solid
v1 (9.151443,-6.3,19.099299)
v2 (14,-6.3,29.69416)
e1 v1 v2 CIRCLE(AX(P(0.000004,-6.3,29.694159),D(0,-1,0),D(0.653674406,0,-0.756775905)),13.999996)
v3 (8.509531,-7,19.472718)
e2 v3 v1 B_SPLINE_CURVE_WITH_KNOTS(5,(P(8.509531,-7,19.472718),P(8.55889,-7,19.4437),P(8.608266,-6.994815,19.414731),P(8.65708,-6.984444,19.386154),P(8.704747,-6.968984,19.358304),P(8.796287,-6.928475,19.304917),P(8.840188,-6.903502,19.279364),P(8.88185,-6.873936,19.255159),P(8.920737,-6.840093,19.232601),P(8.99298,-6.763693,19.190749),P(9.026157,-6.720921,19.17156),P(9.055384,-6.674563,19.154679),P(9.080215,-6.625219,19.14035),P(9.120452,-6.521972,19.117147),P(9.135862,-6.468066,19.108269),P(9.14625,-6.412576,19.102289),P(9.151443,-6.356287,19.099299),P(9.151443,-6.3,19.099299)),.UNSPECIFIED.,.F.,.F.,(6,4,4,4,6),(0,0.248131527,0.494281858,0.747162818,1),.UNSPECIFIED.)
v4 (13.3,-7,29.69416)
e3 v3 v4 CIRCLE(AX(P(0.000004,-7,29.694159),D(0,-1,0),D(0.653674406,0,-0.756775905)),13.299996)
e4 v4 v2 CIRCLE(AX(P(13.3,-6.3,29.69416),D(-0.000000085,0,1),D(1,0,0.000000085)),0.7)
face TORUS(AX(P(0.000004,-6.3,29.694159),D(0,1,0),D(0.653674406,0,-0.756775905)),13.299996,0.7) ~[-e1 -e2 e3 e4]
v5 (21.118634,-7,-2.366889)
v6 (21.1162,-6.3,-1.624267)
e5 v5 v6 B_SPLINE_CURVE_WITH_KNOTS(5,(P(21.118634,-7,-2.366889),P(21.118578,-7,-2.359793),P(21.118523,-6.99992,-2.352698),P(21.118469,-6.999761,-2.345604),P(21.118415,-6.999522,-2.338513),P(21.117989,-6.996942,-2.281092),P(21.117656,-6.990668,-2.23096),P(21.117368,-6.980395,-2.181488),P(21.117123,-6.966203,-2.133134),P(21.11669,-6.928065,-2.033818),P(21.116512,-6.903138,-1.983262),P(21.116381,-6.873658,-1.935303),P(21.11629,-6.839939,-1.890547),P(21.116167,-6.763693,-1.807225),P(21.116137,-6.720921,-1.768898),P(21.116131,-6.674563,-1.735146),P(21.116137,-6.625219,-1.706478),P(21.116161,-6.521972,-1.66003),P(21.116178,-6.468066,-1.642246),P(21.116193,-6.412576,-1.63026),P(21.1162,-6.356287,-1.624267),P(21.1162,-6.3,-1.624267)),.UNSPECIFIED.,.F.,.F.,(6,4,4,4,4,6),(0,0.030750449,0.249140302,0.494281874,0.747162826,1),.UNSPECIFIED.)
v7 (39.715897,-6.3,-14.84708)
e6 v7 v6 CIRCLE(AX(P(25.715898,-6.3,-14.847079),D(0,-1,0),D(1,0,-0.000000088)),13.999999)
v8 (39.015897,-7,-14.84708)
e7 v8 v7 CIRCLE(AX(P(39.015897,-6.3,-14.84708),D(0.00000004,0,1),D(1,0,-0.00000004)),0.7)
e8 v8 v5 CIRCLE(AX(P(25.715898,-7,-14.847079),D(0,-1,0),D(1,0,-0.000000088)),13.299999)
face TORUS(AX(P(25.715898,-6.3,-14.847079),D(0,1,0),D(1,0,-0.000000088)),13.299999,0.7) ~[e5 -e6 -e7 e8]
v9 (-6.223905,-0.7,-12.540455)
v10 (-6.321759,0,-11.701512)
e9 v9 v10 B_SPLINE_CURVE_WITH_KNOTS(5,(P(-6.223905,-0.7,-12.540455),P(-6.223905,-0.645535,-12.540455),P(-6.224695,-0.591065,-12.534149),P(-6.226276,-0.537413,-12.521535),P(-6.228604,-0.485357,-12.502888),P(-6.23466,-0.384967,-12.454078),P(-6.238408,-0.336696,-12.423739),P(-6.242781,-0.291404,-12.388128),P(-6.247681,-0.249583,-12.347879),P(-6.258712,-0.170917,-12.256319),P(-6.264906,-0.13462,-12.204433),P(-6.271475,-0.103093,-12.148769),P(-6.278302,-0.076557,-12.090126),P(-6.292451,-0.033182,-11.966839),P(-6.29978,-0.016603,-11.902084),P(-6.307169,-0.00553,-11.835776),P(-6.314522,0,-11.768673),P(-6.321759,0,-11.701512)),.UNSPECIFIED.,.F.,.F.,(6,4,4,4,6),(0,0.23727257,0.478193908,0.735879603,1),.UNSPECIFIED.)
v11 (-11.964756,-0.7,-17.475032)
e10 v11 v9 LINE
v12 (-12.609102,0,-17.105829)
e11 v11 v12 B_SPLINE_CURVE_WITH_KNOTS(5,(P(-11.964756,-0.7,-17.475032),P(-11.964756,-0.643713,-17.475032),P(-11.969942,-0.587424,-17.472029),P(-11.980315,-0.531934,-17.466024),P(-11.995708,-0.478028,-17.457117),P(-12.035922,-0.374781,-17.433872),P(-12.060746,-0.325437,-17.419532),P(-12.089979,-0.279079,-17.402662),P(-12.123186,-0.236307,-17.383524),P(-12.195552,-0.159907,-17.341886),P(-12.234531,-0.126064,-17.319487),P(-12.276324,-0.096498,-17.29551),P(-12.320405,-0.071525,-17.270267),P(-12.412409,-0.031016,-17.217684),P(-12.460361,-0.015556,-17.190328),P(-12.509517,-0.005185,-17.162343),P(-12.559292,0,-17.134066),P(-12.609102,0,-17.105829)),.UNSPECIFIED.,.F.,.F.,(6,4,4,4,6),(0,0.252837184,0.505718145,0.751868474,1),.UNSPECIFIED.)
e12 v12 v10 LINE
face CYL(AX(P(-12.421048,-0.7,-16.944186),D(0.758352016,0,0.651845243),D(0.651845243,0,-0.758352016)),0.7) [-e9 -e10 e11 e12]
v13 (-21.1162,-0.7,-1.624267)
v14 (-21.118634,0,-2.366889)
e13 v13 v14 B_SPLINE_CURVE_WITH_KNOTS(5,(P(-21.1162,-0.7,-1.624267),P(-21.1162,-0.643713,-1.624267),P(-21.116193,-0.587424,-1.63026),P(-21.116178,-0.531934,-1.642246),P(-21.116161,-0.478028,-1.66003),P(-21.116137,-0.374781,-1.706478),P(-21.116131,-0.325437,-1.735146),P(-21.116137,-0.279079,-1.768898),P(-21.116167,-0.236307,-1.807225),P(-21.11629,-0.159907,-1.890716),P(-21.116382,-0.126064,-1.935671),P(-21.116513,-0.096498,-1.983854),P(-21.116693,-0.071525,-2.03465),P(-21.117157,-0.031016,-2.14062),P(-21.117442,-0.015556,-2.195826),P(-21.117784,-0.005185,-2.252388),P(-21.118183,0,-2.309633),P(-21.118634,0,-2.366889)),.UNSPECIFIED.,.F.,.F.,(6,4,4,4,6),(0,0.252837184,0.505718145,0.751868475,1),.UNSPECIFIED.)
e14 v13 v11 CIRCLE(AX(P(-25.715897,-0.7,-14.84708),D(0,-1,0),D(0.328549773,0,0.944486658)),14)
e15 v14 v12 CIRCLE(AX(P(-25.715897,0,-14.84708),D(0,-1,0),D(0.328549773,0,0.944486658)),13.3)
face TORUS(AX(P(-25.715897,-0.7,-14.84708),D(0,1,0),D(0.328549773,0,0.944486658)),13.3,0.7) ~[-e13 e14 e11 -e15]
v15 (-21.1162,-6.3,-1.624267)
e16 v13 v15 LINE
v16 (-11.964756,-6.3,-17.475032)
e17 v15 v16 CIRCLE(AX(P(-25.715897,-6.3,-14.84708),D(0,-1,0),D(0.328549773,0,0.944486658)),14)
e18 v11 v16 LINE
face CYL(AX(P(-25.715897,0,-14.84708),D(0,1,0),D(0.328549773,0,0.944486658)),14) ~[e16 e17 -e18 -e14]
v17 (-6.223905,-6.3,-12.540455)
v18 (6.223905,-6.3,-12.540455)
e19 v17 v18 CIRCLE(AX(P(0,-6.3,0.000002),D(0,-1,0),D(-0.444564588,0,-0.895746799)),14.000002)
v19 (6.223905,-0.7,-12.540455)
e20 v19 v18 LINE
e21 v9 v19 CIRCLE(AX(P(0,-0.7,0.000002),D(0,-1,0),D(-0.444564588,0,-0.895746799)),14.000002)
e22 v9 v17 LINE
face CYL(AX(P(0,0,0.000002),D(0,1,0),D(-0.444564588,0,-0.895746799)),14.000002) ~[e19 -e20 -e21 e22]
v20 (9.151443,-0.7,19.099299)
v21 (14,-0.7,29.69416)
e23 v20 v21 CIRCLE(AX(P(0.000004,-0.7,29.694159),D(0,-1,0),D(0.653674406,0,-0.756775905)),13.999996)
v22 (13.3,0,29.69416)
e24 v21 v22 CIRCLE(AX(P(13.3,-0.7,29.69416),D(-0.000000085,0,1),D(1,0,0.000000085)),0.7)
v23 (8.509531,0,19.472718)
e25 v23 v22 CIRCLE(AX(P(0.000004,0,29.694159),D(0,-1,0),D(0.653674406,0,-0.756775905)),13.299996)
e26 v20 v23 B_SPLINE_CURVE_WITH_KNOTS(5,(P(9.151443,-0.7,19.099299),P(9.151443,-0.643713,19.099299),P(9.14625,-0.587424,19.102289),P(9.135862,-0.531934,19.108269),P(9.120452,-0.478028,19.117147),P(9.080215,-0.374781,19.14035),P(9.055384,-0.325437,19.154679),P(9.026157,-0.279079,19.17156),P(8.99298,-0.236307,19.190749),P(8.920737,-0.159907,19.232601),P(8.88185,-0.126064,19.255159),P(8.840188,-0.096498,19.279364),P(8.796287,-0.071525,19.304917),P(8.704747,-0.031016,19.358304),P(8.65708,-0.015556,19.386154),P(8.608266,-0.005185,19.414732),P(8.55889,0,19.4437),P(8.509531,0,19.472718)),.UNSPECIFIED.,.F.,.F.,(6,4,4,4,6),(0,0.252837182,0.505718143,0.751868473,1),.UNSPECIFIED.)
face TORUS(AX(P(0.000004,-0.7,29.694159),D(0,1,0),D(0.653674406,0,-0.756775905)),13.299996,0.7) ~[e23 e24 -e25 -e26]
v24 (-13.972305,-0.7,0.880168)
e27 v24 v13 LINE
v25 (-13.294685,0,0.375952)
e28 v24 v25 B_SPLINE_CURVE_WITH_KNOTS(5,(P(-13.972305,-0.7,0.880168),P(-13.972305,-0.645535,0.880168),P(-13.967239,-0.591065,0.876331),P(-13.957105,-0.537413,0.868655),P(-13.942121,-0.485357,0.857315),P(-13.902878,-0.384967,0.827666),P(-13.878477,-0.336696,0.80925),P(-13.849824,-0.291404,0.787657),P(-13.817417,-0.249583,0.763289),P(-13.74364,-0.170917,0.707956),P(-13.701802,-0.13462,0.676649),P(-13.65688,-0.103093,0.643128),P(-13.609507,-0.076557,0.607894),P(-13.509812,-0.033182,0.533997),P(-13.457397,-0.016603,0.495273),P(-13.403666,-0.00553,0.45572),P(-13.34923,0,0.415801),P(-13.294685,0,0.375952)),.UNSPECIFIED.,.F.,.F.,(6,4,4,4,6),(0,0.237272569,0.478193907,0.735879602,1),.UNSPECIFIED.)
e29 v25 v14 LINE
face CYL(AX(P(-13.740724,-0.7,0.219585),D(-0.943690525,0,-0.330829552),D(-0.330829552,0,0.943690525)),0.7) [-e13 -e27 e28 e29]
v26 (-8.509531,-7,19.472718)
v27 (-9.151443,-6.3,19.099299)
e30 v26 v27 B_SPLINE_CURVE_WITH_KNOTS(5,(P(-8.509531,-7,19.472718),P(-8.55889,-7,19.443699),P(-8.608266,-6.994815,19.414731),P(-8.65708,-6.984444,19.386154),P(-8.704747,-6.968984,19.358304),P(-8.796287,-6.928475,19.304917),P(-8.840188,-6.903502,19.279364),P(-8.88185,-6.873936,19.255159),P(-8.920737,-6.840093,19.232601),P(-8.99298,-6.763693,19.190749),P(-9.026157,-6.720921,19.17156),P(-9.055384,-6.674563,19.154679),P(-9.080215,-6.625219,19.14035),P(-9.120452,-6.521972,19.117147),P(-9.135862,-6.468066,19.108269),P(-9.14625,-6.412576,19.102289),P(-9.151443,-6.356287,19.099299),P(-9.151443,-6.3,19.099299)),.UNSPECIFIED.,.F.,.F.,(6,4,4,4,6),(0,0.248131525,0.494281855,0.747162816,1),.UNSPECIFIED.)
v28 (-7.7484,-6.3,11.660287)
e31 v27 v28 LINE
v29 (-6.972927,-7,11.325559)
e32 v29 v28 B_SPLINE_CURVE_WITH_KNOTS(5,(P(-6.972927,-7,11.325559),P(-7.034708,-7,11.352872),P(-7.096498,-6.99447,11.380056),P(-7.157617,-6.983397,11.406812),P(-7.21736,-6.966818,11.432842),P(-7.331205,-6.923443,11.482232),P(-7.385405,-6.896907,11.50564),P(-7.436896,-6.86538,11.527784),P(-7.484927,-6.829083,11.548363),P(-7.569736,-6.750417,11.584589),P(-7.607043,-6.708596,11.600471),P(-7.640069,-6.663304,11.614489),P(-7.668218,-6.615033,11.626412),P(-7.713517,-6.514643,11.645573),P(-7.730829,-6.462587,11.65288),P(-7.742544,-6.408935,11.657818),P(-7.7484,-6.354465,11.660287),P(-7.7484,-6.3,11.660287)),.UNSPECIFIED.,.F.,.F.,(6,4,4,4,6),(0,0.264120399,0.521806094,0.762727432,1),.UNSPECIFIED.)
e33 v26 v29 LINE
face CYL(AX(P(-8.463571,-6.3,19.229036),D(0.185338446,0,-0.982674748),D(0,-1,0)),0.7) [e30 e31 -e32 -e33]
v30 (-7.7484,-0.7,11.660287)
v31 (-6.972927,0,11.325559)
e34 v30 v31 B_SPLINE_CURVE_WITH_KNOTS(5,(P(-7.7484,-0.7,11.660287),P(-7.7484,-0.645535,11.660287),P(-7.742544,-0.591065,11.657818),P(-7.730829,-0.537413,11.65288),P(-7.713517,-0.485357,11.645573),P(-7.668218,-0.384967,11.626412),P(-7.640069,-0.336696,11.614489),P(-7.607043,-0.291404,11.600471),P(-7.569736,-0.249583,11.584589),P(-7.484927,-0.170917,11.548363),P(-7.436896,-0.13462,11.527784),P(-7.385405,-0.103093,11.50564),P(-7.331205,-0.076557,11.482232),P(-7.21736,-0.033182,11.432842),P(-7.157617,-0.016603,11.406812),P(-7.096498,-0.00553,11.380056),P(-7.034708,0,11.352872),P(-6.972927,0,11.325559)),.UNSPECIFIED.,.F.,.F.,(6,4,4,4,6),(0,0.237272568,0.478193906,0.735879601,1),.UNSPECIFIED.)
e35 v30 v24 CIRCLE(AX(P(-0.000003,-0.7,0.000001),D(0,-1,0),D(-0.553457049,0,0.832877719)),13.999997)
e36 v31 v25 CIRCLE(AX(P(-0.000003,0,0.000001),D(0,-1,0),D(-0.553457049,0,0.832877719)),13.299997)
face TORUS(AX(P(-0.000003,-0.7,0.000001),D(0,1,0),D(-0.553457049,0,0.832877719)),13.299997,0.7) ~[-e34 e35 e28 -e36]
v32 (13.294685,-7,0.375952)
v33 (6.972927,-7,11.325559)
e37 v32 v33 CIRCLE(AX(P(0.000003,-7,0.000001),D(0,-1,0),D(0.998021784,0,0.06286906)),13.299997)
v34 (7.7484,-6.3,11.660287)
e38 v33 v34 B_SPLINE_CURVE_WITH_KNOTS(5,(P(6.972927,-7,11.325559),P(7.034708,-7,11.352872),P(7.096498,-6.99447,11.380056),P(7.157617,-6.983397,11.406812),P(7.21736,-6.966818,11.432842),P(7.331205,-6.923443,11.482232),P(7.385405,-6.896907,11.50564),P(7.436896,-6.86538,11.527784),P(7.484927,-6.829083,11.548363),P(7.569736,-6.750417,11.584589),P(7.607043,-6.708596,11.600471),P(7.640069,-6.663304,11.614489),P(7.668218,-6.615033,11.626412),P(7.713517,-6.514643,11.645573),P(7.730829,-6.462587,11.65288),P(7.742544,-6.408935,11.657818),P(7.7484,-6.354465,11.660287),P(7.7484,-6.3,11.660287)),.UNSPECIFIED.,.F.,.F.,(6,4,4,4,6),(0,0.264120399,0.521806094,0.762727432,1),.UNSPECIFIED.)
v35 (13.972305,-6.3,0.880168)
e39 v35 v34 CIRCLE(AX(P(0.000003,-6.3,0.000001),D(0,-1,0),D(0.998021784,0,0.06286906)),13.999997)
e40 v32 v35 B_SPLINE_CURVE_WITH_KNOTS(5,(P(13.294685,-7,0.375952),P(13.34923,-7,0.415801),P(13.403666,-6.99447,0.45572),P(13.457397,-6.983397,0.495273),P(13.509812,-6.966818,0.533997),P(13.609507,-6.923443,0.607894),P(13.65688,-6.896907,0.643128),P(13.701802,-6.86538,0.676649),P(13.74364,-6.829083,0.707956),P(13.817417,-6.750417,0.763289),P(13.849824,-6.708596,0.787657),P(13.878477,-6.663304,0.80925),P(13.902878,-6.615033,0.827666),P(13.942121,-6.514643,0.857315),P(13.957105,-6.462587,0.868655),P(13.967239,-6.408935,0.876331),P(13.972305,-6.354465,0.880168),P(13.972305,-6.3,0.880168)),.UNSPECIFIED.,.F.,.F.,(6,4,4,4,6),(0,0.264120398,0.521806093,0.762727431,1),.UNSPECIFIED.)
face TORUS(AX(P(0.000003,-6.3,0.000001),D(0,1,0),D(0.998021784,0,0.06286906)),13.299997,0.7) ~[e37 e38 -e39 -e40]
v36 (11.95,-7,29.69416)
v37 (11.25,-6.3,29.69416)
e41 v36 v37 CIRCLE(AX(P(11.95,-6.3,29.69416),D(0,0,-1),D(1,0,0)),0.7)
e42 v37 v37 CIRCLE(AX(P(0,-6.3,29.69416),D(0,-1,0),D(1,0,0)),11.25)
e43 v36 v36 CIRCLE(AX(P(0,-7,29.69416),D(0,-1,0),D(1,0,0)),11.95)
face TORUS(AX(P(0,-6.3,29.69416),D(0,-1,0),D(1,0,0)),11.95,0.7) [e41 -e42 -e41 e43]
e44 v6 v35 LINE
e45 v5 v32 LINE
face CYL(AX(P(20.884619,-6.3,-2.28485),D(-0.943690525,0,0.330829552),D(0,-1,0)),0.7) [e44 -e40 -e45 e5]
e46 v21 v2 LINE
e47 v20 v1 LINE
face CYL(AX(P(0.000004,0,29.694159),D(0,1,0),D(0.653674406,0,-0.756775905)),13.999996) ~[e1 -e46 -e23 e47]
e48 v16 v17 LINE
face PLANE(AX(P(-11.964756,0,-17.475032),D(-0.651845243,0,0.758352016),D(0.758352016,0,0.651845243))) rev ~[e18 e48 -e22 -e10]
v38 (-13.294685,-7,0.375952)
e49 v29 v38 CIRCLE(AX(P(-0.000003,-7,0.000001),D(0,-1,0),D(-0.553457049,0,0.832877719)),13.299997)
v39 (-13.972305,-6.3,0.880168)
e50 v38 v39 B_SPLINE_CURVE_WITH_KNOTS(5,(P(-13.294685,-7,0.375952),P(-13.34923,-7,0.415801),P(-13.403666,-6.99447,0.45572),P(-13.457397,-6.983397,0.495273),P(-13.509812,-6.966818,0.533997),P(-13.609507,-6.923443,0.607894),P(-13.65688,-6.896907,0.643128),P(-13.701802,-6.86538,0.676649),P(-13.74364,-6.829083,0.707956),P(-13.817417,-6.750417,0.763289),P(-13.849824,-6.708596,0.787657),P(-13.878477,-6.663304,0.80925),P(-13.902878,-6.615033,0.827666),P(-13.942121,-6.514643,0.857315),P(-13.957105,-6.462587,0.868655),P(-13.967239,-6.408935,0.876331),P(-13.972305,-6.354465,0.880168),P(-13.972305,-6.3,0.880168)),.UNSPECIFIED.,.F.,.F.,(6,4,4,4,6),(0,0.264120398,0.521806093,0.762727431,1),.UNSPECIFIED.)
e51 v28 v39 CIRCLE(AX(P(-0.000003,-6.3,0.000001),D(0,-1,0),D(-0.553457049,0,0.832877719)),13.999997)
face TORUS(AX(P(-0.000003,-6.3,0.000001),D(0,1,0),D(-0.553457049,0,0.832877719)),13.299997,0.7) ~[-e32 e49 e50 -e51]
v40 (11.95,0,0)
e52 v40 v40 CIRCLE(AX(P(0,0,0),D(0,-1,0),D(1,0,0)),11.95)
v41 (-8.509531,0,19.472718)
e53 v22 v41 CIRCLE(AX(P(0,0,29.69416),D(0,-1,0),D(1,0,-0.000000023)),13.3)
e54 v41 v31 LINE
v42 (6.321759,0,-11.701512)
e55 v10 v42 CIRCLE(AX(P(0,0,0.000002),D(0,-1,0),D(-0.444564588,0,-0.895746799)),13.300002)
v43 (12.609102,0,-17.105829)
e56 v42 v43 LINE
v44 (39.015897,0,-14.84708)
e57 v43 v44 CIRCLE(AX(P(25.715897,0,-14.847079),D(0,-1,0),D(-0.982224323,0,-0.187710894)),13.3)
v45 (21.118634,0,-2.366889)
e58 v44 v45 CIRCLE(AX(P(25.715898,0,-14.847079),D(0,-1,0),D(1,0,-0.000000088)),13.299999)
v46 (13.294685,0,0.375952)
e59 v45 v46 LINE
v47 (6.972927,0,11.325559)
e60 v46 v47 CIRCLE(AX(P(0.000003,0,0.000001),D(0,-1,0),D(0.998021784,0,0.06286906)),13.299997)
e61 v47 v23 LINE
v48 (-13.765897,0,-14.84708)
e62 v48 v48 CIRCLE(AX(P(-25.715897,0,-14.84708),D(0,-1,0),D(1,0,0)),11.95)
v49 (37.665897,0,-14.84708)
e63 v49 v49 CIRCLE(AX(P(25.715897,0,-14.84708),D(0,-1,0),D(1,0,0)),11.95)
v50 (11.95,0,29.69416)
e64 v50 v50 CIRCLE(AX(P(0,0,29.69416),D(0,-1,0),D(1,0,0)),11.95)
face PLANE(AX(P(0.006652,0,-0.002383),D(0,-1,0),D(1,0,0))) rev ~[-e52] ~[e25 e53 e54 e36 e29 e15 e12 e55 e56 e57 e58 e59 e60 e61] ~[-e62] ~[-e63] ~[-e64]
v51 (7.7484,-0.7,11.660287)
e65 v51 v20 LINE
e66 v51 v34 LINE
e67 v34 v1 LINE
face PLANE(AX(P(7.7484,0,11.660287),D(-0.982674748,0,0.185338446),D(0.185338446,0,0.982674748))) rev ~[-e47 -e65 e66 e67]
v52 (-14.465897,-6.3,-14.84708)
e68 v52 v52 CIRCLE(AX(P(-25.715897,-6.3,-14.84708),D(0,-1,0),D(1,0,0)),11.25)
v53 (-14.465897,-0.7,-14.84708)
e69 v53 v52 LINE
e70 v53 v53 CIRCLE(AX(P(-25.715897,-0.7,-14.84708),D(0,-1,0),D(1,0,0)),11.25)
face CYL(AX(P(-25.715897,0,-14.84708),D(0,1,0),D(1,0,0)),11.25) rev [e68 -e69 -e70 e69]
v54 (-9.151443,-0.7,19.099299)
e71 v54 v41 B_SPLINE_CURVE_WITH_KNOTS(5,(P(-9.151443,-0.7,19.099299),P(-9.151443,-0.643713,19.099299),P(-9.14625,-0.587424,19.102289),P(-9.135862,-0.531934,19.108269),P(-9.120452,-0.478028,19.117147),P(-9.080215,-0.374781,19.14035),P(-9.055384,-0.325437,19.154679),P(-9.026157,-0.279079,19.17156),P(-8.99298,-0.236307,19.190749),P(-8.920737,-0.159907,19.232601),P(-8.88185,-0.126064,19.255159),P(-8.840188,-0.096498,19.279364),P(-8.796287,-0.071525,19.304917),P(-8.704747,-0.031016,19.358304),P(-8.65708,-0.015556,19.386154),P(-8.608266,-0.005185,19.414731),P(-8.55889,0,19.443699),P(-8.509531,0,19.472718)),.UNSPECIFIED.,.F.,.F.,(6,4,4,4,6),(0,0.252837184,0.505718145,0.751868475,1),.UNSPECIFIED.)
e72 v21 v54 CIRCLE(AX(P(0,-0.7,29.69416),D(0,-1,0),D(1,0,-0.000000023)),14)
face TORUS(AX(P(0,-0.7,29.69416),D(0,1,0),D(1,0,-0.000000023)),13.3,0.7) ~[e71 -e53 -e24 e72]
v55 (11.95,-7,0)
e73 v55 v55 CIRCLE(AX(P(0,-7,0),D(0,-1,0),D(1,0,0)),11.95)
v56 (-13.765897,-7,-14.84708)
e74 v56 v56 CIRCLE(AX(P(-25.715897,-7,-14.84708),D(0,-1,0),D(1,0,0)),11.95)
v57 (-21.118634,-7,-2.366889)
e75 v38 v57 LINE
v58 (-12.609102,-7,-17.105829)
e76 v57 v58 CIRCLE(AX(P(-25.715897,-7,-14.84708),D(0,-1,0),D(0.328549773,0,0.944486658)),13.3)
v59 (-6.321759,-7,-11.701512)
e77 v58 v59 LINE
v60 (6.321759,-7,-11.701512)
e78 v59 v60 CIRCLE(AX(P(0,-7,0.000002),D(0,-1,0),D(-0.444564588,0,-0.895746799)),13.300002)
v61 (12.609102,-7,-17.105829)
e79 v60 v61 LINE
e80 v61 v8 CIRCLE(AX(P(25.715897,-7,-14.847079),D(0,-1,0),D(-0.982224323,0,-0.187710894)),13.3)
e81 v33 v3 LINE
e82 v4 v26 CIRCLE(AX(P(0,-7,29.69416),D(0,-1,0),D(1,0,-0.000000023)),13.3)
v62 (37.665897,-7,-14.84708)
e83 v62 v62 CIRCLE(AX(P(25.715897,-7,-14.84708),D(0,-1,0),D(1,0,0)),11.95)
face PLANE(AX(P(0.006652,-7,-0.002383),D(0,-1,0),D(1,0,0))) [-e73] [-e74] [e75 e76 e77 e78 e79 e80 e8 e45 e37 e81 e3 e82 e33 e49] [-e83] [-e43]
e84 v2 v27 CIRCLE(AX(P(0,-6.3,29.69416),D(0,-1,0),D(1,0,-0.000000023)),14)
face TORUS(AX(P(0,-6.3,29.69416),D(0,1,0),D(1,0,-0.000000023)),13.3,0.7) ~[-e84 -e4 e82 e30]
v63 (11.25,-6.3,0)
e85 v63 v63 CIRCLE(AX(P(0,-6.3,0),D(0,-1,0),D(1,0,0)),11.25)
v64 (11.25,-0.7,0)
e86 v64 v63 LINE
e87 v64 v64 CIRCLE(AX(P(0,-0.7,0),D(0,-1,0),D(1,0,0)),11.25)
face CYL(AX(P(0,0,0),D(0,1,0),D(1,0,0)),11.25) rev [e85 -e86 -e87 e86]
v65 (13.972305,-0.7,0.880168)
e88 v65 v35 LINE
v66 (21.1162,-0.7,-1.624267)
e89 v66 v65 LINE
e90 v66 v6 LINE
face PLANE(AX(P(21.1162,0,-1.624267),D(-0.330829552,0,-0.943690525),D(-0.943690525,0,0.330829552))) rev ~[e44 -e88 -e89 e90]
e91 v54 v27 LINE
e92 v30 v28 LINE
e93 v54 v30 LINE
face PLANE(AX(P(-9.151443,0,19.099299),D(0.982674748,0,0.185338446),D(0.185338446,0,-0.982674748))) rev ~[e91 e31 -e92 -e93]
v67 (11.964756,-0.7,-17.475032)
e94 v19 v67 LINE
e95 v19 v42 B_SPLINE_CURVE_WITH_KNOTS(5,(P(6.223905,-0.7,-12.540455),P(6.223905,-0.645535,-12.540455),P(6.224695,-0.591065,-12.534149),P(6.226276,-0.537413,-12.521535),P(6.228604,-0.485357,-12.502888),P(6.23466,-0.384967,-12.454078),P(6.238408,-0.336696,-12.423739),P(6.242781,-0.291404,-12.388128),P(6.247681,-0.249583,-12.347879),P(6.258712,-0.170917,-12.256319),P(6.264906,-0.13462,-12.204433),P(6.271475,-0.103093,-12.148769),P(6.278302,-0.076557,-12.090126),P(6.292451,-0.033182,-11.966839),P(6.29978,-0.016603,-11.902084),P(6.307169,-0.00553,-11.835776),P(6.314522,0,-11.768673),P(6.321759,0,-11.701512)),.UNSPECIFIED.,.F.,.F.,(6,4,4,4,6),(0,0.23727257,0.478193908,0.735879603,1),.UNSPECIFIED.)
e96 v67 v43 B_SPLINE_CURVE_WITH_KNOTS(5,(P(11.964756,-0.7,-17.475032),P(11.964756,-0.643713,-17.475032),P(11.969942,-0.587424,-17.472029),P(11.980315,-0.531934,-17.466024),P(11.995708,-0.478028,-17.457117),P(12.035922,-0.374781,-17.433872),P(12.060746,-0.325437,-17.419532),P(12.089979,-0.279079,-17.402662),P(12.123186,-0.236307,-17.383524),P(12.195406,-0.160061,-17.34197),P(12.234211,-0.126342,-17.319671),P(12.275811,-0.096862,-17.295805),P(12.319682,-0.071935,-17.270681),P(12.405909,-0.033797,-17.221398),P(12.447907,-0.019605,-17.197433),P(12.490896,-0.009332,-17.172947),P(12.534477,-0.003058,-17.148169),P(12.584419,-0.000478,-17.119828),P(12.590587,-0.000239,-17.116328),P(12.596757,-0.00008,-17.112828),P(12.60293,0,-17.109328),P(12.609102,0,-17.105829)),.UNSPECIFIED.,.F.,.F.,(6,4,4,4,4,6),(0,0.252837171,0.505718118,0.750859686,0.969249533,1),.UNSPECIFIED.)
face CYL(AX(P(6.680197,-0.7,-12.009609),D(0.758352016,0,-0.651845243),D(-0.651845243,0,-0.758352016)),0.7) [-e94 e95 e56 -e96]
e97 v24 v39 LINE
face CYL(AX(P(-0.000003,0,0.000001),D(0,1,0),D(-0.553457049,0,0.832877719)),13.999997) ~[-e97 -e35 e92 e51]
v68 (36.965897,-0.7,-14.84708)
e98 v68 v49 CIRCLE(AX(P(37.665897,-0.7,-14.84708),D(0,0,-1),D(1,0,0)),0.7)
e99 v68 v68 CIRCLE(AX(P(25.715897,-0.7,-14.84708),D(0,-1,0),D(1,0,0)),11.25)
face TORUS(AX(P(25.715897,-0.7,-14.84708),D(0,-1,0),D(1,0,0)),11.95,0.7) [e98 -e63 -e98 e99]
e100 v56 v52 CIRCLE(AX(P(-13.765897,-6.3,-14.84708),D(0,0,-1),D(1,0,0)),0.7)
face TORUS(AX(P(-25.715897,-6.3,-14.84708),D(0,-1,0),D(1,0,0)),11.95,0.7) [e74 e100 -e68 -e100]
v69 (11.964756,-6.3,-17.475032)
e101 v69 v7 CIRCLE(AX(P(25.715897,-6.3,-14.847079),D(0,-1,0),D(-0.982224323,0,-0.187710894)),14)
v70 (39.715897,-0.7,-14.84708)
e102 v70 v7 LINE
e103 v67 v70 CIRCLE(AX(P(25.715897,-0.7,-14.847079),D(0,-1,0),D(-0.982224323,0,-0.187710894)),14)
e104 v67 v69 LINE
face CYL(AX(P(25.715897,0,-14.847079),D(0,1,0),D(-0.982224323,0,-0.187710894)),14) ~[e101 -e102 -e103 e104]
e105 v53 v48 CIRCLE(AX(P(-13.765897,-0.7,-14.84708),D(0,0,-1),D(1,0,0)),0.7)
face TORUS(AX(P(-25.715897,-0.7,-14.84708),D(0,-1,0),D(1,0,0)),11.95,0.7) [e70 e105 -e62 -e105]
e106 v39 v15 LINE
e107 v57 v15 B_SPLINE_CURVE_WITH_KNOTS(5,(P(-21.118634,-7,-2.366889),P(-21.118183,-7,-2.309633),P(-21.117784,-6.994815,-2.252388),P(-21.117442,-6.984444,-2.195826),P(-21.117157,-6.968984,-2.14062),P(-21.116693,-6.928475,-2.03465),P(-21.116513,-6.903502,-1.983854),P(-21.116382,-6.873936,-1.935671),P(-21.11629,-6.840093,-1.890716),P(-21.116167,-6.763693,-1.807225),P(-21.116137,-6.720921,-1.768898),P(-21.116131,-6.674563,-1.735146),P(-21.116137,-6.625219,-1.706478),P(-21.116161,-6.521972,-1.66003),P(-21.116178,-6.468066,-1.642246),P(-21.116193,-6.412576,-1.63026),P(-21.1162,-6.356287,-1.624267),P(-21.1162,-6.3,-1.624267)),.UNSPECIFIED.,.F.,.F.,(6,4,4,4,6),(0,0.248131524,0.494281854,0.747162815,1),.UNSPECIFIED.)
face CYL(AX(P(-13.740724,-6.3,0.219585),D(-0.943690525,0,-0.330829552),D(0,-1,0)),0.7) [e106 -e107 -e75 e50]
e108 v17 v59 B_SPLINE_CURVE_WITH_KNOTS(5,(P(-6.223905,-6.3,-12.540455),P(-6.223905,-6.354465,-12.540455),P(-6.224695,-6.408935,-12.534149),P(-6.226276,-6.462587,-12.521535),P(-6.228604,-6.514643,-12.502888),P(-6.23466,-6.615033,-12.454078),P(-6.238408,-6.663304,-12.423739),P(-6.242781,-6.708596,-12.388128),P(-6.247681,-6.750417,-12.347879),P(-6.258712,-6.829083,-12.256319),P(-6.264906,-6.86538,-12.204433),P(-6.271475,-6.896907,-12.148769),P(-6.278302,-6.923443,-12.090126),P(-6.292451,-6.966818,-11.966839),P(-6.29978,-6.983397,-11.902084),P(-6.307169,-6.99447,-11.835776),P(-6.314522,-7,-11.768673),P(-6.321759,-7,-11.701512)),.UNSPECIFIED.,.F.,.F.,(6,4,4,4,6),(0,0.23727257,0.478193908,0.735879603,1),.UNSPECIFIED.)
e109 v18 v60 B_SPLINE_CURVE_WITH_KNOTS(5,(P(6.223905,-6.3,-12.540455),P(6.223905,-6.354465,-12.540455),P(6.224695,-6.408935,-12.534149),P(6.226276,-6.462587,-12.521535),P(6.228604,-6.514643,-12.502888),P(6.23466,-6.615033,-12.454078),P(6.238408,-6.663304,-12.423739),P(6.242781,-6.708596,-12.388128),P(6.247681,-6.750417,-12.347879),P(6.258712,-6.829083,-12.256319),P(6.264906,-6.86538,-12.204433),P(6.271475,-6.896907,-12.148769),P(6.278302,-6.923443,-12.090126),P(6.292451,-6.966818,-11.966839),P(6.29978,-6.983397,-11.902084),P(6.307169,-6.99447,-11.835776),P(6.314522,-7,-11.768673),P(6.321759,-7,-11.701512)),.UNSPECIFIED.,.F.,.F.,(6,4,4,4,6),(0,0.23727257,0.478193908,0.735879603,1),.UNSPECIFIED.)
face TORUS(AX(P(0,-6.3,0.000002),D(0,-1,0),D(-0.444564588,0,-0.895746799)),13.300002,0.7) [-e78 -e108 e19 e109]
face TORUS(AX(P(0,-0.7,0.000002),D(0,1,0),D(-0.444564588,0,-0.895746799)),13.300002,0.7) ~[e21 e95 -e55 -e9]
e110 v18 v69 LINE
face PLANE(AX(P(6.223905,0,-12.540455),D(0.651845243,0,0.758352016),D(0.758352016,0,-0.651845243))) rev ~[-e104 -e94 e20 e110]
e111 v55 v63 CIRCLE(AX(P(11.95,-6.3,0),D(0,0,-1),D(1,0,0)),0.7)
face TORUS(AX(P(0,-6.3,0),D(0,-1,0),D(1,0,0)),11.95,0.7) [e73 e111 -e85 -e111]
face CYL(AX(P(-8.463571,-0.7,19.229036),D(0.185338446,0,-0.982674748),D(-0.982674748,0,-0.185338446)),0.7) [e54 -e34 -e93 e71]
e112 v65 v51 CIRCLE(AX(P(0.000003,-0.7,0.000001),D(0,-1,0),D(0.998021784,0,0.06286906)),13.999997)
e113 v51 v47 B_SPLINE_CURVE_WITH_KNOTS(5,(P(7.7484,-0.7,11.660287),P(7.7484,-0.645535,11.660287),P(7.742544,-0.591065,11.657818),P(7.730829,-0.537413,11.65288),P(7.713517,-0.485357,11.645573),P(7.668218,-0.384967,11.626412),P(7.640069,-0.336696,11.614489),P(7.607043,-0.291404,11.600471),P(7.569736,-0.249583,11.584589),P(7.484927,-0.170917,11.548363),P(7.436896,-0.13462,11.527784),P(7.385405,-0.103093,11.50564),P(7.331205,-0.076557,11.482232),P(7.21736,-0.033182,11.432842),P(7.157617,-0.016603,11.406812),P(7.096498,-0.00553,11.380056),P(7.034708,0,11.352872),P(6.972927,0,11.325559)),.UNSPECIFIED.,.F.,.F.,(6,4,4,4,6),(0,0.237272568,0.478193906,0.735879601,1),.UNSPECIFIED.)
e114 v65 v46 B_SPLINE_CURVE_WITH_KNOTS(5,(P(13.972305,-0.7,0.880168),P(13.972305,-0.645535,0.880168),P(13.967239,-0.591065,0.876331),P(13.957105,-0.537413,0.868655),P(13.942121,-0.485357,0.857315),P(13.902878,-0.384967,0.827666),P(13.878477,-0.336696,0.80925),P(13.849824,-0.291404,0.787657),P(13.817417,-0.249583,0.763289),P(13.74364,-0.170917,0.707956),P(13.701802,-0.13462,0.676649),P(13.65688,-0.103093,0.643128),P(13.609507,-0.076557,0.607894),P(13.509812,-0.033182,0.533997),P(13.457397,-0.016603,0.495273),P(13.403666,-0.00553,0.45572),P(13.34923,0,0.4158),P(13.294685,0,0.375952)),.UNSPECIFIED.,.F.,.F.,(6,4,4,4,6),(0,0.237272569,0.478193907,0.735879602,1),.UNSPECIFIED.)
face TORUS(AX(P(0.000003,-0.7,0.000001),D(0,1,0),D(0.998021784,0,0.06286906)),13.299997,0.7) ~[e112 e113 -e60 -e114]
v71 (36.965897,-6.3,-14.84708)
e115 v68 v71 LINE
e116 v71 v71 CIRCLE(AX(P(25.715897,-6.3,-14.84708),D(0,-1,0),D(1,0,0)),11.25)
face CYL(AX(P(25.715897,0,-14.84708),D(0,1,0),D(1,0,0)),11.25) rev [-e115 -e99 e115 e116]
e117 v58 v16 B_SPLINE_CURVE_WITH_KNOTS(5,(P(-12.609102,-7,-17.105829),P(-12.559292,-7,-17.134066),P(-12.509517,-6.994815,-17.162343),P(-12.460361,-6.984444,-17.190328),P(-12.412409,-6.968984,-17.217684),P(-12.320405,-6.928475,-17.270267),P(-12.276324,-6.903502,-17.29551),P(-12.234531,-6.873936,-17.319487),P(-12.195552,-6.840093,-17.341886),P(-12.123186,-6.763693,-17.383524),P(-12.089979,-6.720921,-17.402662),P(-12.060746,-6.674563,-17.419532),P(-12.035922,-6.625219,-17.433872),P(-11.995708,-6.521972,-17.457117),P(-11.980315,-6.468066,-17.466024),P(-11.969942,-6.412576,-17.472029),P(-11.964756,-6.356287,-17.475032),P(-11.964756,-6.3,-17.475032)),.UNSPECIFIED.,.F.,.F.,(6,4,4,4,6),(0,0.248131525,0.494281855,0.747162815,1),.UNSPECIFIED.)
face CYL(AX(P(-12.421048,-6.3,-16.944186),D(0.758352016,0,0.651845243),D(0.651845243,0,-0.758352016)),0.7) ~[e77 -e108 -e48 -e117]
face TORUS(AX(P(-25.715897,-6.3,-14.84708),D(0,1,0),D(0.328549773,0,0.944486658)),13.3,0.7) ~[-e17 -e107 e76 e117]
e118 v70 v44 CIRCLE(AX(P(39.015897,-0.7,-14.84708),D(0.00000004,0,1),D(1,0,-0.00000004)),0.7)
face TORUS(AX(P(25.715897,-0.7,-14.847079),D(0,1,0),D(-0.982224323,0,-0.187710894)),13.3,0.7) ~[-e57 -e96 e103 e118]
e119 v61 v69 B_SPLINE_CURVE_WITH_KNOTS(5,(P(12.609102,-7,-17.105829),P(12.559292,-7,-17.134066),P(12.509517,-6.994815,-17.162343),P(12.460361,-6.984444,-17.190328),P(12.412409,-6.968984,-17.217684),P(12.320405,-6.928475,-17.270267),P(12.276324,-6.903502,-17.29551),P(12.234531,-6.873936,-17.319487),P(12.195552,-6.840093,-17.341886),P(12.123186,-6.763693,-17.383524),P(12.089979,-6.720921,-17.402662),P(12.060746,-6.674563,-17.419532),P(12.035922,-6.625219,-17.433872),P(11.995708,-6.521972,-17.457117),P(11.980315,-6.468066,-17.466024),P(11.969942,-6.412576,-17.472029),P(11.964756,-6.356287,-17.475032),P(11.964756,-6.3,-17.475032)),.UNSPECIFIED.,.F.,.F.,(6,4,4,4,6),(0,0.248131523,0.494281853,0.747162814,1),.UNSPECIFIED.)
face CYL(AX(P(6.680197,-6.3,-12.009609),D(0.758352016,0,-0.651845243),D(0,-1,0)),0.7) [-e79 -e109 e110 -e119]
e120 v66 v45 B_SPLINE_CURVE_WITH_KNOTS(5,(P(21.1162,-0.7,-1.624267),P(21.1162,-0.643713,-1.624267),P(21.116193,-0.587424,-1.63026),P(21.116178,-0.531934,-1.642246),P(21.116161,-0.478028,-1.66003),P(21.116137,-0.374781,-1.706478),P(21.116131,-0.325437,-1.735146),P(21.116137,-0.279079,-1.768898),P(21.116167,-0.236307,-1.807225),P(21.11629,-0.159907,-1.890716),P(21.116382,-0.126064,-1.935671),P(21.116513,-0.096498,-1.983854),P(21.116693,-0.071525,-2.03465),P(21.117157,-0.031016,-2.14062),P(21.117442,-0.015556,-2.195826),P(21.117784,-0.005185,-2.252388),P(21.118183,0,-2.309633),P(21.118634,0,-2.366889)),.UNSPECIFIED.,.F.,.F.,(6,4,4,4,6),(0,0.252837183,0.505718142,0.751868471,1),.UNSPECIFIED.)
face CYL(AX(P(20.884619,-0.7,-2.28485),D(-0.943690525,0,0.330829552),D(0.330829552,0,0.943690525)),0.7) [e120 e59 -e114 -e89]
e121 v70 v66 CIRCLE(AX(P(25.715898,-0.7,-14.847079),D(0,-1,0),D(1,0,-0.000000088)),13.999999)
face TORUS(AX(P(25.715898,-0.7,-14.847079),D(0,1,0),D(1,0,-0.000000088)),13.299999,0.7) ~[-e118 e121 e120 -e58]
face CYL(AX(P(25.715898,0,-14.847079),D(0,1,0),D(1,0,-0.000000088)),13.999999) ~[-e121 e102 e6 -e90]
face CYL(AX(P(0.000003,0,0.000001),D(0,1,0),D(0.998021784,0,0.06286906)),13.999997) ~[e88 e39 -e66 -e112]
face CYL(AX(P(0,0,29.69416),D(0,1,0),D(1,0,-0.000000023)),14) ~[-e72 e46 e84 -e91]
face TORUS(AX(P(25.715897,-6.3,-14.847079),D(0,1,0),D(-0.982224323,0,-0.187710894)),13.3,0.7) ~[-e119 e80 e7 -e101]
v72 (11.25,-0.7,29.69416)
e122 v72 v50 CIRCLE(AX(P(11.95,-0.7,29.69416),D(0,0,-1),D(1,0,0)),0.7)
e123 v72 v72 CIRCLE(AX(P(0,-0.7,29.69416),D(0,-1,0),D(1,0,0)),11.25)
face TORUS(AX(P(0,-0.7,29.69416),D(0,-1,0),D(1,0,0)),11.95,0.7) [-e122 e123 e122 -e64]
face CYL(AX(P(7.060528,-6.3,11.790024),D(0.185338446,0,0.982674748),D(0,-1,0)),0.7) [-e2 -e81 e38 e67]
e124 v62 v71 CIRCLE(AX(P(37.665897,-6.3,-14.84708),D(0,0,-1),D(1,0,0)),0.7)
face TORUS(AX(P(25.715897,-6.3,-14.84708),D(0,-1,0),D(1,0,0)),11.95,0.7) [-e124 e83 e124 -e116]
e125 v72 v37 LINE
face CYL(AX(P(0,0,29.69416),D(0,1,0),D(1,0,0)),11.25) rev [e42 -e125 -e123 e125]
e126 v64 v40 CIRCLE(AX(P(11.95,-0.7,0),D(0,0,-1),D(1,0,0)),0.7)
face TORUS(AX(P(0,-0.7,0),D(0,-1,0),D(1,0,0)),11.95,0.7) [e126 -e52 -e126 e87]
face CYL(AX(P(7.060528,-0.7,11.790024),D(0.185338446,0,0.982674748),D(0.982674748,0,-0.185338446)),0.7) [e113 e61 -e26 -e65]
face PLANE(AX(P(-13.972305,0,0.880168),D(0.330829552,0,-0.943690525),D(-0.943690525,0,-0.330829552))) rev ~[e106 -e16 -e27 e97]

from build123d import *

# Parameters (mm, degrees)
F0_R     = 11.25
F1_DEPTH = 7
F2_R     = 0.7
F3_R     = 0.7


with BuildPart() as f1:
    # F0 (on Front) → F1 (new body)
    with BuildSketch(Plane.XZ):
        with BuildLine():
            ThreePointArc((6.223905, -12.540455), (11.898207, -7.37785), (14, 0))
            ThreePointArc((14, 0), (13.993075, 0.440302), (13.972305, 0.880168))
            ThreePointArc((13.972305, 0.880168), (12.124356, 7), (7.7484, 11.660287))
            ThreePointArc((7.7484, 11.660287), (0, 14), (-7.7484, 11.660287))
            ThreePointArc((-7.7484, 11.660287), (-12.124356, 7), (-13.972305, 0.880168))
            ThreePointArc((-13.972305, 0.880168), (-12.124356, -7), (-6.223905, -12.540455))
            ThreePointArc((-6.223905, -12.540455), (0, -14), (6.223905, -12.540455))
        make_face()
        Circle(F0_R, mode=Mode.SUBTRACT)
        with BuildLine():
            ThreePointArc((13.972305, 0.880168), (13.993075, 0.440302), (14, 0))
            ThreePointArc((14, 0), (11.898207, -7.37785), (6.223905, -12.540455))
            Line((6.223905, -12.540455), (11.964756, -17.475032))
            ThreePointArc((11.964756, -17.475032), (13.591541, -7.84708), (21.1162, -1.624267))
            Line((21.1162, -1.624267), (13.972305, 0.880168))
        make_face()
        with BuildLine():
            ThreePointArc((-7.7484, 11.660287), (0, 14), (7.7484, 11.660287))
            Line((7.7484, 11.660287), (9.151443, 19.099299))
            ThreePointArc((9.151443, 19.099299), (0, 15.69416), (-9.151443, 19.099299))
            Line((-9.151443, 19.099299), (-7.7484, 11.660287))
        make_face()
        with BuildLine():
            ThreePointArc((39.715897, -14.84708), (33.827748, -3.436651), (21.1162, -1.624267))
            ThreePointArc((21.1162, -1.624267), (13.591541, -7.84708), (11.964756, -17.475032))
            ThreePointArc((11.964756, -17.475032), (27.035751, -28.784726), (39.715897, -14.84708))
        make_face()
        with Locations((25.715897, -14.84708)):
            Circle(F0_R, mode=Mode.SUBTRACT)
        with BuildLine():
            Line((-11.964756, -17.475032), (-6.223905, -12.540455))
            ThreePointArc((-6.223905, -12.540455), (-12.124356, -7), (-13.972305, 0.880168))
            Line((-13.972305, 0.880168), (-21.1162, -1.624267))
            ThreePointArc((-21.1162, -1.624267), (-14.305468, -6.73523), (-11.715897, -14.84708))
            ThreePointArc((-11.715897, -14.84708), (-11.778251, -16.166934), (-11.964756, -17.475032))
        make_face()
        with BuildLine():
            ThreePointArc((-9.151443, 19.099299), (0, 15.69416), (9.151443, 19.099299))
            ThreePointArc((9.151443, 19.099299), (12.730283, 23.868364), (14, 29.69416))
            ThreePointArc((14, 29.69416), (-5.825796, 42.424443), (-9.151443, 19.099299))
        make_face()
        with Locations((0, 29.69416)):
            Circle(F0_R, mode=Mode.SUBTRACT)
        with BuildLine():
            ThreePointArc((-21.1162, -1.624267), (-37.840253, -21.84708), (-11.964756, -17.475032))
            ThreePointArc((-11.964756, -17.475032), (-11.778251, -16.166934), (-11.715897, -14.84708))
            ThreePointArc((-11.715897, -14.84708), (-14.305468, -6.73523), (-21.1162, -1.624267))
        make_face()
        with Locations((-25.715897, -14.84708)):
            Circle(F0_R, mode=Mode.SUBTRACT)
    extrude(amount=F1_DEPTH)

    # F2
    f2_edges = [f1.edges().sort_by_distance(p)[0] for p in [
        (9.094331, 0, -15.007743),
        (37.840253, 0, -21.84708),
        (17.544252, 0, -0.37205),
        (12.124356, 0, 7),
        (8.449922, 0, 15.379793),
        (0, 0, 43.69416),
        (-8.449922, 0, 15.379793),
        (-12.124356, 0, 7),
        (-17.544252, 0, -0.37205),
        (-37.840253, 0, -21.84708),
        (-9.094331, 0, -15.007743),
        (0, 0, -14),
        (-11.25, 0, 0),
        (14.465897, 0, -14.84708),
        (-11.25, 0, 29.69416),
        (-36.965897, 0, -14.84708),
    ]]
    fillet(f2_edges, radius=F2_R)

    # F3
    f3_edges = [f1.edges().sort_by_distance(p)[0] for p in [
        (0, -7, -14),
        (9.094331, -7, -15.007743),
        (37.840253, -7, -21.84708),
        (17.544252, -7, -0.37205),
        (12.124356, -7, 7),
        (8.449922, -7, 15.379793),
        (0, -7, 43.69416),
        (-8.449922, -7, 15.379793),
        (-12.124356, -7, 7),
        (-17.544252, -7, -0.37205),
        (-37.840253, -7, -21.84708),
        (-9.094331, -7, -15.007743),
        (-11.25, -7, 0),
        (14.465897, -7, -14.84708),
        (-11.25, -7, 29.69416),
        (-36.965897, -7, -14.84708),
    ]]
    fillet(f3_edges, radius=F3_R)


solid = f1.part
